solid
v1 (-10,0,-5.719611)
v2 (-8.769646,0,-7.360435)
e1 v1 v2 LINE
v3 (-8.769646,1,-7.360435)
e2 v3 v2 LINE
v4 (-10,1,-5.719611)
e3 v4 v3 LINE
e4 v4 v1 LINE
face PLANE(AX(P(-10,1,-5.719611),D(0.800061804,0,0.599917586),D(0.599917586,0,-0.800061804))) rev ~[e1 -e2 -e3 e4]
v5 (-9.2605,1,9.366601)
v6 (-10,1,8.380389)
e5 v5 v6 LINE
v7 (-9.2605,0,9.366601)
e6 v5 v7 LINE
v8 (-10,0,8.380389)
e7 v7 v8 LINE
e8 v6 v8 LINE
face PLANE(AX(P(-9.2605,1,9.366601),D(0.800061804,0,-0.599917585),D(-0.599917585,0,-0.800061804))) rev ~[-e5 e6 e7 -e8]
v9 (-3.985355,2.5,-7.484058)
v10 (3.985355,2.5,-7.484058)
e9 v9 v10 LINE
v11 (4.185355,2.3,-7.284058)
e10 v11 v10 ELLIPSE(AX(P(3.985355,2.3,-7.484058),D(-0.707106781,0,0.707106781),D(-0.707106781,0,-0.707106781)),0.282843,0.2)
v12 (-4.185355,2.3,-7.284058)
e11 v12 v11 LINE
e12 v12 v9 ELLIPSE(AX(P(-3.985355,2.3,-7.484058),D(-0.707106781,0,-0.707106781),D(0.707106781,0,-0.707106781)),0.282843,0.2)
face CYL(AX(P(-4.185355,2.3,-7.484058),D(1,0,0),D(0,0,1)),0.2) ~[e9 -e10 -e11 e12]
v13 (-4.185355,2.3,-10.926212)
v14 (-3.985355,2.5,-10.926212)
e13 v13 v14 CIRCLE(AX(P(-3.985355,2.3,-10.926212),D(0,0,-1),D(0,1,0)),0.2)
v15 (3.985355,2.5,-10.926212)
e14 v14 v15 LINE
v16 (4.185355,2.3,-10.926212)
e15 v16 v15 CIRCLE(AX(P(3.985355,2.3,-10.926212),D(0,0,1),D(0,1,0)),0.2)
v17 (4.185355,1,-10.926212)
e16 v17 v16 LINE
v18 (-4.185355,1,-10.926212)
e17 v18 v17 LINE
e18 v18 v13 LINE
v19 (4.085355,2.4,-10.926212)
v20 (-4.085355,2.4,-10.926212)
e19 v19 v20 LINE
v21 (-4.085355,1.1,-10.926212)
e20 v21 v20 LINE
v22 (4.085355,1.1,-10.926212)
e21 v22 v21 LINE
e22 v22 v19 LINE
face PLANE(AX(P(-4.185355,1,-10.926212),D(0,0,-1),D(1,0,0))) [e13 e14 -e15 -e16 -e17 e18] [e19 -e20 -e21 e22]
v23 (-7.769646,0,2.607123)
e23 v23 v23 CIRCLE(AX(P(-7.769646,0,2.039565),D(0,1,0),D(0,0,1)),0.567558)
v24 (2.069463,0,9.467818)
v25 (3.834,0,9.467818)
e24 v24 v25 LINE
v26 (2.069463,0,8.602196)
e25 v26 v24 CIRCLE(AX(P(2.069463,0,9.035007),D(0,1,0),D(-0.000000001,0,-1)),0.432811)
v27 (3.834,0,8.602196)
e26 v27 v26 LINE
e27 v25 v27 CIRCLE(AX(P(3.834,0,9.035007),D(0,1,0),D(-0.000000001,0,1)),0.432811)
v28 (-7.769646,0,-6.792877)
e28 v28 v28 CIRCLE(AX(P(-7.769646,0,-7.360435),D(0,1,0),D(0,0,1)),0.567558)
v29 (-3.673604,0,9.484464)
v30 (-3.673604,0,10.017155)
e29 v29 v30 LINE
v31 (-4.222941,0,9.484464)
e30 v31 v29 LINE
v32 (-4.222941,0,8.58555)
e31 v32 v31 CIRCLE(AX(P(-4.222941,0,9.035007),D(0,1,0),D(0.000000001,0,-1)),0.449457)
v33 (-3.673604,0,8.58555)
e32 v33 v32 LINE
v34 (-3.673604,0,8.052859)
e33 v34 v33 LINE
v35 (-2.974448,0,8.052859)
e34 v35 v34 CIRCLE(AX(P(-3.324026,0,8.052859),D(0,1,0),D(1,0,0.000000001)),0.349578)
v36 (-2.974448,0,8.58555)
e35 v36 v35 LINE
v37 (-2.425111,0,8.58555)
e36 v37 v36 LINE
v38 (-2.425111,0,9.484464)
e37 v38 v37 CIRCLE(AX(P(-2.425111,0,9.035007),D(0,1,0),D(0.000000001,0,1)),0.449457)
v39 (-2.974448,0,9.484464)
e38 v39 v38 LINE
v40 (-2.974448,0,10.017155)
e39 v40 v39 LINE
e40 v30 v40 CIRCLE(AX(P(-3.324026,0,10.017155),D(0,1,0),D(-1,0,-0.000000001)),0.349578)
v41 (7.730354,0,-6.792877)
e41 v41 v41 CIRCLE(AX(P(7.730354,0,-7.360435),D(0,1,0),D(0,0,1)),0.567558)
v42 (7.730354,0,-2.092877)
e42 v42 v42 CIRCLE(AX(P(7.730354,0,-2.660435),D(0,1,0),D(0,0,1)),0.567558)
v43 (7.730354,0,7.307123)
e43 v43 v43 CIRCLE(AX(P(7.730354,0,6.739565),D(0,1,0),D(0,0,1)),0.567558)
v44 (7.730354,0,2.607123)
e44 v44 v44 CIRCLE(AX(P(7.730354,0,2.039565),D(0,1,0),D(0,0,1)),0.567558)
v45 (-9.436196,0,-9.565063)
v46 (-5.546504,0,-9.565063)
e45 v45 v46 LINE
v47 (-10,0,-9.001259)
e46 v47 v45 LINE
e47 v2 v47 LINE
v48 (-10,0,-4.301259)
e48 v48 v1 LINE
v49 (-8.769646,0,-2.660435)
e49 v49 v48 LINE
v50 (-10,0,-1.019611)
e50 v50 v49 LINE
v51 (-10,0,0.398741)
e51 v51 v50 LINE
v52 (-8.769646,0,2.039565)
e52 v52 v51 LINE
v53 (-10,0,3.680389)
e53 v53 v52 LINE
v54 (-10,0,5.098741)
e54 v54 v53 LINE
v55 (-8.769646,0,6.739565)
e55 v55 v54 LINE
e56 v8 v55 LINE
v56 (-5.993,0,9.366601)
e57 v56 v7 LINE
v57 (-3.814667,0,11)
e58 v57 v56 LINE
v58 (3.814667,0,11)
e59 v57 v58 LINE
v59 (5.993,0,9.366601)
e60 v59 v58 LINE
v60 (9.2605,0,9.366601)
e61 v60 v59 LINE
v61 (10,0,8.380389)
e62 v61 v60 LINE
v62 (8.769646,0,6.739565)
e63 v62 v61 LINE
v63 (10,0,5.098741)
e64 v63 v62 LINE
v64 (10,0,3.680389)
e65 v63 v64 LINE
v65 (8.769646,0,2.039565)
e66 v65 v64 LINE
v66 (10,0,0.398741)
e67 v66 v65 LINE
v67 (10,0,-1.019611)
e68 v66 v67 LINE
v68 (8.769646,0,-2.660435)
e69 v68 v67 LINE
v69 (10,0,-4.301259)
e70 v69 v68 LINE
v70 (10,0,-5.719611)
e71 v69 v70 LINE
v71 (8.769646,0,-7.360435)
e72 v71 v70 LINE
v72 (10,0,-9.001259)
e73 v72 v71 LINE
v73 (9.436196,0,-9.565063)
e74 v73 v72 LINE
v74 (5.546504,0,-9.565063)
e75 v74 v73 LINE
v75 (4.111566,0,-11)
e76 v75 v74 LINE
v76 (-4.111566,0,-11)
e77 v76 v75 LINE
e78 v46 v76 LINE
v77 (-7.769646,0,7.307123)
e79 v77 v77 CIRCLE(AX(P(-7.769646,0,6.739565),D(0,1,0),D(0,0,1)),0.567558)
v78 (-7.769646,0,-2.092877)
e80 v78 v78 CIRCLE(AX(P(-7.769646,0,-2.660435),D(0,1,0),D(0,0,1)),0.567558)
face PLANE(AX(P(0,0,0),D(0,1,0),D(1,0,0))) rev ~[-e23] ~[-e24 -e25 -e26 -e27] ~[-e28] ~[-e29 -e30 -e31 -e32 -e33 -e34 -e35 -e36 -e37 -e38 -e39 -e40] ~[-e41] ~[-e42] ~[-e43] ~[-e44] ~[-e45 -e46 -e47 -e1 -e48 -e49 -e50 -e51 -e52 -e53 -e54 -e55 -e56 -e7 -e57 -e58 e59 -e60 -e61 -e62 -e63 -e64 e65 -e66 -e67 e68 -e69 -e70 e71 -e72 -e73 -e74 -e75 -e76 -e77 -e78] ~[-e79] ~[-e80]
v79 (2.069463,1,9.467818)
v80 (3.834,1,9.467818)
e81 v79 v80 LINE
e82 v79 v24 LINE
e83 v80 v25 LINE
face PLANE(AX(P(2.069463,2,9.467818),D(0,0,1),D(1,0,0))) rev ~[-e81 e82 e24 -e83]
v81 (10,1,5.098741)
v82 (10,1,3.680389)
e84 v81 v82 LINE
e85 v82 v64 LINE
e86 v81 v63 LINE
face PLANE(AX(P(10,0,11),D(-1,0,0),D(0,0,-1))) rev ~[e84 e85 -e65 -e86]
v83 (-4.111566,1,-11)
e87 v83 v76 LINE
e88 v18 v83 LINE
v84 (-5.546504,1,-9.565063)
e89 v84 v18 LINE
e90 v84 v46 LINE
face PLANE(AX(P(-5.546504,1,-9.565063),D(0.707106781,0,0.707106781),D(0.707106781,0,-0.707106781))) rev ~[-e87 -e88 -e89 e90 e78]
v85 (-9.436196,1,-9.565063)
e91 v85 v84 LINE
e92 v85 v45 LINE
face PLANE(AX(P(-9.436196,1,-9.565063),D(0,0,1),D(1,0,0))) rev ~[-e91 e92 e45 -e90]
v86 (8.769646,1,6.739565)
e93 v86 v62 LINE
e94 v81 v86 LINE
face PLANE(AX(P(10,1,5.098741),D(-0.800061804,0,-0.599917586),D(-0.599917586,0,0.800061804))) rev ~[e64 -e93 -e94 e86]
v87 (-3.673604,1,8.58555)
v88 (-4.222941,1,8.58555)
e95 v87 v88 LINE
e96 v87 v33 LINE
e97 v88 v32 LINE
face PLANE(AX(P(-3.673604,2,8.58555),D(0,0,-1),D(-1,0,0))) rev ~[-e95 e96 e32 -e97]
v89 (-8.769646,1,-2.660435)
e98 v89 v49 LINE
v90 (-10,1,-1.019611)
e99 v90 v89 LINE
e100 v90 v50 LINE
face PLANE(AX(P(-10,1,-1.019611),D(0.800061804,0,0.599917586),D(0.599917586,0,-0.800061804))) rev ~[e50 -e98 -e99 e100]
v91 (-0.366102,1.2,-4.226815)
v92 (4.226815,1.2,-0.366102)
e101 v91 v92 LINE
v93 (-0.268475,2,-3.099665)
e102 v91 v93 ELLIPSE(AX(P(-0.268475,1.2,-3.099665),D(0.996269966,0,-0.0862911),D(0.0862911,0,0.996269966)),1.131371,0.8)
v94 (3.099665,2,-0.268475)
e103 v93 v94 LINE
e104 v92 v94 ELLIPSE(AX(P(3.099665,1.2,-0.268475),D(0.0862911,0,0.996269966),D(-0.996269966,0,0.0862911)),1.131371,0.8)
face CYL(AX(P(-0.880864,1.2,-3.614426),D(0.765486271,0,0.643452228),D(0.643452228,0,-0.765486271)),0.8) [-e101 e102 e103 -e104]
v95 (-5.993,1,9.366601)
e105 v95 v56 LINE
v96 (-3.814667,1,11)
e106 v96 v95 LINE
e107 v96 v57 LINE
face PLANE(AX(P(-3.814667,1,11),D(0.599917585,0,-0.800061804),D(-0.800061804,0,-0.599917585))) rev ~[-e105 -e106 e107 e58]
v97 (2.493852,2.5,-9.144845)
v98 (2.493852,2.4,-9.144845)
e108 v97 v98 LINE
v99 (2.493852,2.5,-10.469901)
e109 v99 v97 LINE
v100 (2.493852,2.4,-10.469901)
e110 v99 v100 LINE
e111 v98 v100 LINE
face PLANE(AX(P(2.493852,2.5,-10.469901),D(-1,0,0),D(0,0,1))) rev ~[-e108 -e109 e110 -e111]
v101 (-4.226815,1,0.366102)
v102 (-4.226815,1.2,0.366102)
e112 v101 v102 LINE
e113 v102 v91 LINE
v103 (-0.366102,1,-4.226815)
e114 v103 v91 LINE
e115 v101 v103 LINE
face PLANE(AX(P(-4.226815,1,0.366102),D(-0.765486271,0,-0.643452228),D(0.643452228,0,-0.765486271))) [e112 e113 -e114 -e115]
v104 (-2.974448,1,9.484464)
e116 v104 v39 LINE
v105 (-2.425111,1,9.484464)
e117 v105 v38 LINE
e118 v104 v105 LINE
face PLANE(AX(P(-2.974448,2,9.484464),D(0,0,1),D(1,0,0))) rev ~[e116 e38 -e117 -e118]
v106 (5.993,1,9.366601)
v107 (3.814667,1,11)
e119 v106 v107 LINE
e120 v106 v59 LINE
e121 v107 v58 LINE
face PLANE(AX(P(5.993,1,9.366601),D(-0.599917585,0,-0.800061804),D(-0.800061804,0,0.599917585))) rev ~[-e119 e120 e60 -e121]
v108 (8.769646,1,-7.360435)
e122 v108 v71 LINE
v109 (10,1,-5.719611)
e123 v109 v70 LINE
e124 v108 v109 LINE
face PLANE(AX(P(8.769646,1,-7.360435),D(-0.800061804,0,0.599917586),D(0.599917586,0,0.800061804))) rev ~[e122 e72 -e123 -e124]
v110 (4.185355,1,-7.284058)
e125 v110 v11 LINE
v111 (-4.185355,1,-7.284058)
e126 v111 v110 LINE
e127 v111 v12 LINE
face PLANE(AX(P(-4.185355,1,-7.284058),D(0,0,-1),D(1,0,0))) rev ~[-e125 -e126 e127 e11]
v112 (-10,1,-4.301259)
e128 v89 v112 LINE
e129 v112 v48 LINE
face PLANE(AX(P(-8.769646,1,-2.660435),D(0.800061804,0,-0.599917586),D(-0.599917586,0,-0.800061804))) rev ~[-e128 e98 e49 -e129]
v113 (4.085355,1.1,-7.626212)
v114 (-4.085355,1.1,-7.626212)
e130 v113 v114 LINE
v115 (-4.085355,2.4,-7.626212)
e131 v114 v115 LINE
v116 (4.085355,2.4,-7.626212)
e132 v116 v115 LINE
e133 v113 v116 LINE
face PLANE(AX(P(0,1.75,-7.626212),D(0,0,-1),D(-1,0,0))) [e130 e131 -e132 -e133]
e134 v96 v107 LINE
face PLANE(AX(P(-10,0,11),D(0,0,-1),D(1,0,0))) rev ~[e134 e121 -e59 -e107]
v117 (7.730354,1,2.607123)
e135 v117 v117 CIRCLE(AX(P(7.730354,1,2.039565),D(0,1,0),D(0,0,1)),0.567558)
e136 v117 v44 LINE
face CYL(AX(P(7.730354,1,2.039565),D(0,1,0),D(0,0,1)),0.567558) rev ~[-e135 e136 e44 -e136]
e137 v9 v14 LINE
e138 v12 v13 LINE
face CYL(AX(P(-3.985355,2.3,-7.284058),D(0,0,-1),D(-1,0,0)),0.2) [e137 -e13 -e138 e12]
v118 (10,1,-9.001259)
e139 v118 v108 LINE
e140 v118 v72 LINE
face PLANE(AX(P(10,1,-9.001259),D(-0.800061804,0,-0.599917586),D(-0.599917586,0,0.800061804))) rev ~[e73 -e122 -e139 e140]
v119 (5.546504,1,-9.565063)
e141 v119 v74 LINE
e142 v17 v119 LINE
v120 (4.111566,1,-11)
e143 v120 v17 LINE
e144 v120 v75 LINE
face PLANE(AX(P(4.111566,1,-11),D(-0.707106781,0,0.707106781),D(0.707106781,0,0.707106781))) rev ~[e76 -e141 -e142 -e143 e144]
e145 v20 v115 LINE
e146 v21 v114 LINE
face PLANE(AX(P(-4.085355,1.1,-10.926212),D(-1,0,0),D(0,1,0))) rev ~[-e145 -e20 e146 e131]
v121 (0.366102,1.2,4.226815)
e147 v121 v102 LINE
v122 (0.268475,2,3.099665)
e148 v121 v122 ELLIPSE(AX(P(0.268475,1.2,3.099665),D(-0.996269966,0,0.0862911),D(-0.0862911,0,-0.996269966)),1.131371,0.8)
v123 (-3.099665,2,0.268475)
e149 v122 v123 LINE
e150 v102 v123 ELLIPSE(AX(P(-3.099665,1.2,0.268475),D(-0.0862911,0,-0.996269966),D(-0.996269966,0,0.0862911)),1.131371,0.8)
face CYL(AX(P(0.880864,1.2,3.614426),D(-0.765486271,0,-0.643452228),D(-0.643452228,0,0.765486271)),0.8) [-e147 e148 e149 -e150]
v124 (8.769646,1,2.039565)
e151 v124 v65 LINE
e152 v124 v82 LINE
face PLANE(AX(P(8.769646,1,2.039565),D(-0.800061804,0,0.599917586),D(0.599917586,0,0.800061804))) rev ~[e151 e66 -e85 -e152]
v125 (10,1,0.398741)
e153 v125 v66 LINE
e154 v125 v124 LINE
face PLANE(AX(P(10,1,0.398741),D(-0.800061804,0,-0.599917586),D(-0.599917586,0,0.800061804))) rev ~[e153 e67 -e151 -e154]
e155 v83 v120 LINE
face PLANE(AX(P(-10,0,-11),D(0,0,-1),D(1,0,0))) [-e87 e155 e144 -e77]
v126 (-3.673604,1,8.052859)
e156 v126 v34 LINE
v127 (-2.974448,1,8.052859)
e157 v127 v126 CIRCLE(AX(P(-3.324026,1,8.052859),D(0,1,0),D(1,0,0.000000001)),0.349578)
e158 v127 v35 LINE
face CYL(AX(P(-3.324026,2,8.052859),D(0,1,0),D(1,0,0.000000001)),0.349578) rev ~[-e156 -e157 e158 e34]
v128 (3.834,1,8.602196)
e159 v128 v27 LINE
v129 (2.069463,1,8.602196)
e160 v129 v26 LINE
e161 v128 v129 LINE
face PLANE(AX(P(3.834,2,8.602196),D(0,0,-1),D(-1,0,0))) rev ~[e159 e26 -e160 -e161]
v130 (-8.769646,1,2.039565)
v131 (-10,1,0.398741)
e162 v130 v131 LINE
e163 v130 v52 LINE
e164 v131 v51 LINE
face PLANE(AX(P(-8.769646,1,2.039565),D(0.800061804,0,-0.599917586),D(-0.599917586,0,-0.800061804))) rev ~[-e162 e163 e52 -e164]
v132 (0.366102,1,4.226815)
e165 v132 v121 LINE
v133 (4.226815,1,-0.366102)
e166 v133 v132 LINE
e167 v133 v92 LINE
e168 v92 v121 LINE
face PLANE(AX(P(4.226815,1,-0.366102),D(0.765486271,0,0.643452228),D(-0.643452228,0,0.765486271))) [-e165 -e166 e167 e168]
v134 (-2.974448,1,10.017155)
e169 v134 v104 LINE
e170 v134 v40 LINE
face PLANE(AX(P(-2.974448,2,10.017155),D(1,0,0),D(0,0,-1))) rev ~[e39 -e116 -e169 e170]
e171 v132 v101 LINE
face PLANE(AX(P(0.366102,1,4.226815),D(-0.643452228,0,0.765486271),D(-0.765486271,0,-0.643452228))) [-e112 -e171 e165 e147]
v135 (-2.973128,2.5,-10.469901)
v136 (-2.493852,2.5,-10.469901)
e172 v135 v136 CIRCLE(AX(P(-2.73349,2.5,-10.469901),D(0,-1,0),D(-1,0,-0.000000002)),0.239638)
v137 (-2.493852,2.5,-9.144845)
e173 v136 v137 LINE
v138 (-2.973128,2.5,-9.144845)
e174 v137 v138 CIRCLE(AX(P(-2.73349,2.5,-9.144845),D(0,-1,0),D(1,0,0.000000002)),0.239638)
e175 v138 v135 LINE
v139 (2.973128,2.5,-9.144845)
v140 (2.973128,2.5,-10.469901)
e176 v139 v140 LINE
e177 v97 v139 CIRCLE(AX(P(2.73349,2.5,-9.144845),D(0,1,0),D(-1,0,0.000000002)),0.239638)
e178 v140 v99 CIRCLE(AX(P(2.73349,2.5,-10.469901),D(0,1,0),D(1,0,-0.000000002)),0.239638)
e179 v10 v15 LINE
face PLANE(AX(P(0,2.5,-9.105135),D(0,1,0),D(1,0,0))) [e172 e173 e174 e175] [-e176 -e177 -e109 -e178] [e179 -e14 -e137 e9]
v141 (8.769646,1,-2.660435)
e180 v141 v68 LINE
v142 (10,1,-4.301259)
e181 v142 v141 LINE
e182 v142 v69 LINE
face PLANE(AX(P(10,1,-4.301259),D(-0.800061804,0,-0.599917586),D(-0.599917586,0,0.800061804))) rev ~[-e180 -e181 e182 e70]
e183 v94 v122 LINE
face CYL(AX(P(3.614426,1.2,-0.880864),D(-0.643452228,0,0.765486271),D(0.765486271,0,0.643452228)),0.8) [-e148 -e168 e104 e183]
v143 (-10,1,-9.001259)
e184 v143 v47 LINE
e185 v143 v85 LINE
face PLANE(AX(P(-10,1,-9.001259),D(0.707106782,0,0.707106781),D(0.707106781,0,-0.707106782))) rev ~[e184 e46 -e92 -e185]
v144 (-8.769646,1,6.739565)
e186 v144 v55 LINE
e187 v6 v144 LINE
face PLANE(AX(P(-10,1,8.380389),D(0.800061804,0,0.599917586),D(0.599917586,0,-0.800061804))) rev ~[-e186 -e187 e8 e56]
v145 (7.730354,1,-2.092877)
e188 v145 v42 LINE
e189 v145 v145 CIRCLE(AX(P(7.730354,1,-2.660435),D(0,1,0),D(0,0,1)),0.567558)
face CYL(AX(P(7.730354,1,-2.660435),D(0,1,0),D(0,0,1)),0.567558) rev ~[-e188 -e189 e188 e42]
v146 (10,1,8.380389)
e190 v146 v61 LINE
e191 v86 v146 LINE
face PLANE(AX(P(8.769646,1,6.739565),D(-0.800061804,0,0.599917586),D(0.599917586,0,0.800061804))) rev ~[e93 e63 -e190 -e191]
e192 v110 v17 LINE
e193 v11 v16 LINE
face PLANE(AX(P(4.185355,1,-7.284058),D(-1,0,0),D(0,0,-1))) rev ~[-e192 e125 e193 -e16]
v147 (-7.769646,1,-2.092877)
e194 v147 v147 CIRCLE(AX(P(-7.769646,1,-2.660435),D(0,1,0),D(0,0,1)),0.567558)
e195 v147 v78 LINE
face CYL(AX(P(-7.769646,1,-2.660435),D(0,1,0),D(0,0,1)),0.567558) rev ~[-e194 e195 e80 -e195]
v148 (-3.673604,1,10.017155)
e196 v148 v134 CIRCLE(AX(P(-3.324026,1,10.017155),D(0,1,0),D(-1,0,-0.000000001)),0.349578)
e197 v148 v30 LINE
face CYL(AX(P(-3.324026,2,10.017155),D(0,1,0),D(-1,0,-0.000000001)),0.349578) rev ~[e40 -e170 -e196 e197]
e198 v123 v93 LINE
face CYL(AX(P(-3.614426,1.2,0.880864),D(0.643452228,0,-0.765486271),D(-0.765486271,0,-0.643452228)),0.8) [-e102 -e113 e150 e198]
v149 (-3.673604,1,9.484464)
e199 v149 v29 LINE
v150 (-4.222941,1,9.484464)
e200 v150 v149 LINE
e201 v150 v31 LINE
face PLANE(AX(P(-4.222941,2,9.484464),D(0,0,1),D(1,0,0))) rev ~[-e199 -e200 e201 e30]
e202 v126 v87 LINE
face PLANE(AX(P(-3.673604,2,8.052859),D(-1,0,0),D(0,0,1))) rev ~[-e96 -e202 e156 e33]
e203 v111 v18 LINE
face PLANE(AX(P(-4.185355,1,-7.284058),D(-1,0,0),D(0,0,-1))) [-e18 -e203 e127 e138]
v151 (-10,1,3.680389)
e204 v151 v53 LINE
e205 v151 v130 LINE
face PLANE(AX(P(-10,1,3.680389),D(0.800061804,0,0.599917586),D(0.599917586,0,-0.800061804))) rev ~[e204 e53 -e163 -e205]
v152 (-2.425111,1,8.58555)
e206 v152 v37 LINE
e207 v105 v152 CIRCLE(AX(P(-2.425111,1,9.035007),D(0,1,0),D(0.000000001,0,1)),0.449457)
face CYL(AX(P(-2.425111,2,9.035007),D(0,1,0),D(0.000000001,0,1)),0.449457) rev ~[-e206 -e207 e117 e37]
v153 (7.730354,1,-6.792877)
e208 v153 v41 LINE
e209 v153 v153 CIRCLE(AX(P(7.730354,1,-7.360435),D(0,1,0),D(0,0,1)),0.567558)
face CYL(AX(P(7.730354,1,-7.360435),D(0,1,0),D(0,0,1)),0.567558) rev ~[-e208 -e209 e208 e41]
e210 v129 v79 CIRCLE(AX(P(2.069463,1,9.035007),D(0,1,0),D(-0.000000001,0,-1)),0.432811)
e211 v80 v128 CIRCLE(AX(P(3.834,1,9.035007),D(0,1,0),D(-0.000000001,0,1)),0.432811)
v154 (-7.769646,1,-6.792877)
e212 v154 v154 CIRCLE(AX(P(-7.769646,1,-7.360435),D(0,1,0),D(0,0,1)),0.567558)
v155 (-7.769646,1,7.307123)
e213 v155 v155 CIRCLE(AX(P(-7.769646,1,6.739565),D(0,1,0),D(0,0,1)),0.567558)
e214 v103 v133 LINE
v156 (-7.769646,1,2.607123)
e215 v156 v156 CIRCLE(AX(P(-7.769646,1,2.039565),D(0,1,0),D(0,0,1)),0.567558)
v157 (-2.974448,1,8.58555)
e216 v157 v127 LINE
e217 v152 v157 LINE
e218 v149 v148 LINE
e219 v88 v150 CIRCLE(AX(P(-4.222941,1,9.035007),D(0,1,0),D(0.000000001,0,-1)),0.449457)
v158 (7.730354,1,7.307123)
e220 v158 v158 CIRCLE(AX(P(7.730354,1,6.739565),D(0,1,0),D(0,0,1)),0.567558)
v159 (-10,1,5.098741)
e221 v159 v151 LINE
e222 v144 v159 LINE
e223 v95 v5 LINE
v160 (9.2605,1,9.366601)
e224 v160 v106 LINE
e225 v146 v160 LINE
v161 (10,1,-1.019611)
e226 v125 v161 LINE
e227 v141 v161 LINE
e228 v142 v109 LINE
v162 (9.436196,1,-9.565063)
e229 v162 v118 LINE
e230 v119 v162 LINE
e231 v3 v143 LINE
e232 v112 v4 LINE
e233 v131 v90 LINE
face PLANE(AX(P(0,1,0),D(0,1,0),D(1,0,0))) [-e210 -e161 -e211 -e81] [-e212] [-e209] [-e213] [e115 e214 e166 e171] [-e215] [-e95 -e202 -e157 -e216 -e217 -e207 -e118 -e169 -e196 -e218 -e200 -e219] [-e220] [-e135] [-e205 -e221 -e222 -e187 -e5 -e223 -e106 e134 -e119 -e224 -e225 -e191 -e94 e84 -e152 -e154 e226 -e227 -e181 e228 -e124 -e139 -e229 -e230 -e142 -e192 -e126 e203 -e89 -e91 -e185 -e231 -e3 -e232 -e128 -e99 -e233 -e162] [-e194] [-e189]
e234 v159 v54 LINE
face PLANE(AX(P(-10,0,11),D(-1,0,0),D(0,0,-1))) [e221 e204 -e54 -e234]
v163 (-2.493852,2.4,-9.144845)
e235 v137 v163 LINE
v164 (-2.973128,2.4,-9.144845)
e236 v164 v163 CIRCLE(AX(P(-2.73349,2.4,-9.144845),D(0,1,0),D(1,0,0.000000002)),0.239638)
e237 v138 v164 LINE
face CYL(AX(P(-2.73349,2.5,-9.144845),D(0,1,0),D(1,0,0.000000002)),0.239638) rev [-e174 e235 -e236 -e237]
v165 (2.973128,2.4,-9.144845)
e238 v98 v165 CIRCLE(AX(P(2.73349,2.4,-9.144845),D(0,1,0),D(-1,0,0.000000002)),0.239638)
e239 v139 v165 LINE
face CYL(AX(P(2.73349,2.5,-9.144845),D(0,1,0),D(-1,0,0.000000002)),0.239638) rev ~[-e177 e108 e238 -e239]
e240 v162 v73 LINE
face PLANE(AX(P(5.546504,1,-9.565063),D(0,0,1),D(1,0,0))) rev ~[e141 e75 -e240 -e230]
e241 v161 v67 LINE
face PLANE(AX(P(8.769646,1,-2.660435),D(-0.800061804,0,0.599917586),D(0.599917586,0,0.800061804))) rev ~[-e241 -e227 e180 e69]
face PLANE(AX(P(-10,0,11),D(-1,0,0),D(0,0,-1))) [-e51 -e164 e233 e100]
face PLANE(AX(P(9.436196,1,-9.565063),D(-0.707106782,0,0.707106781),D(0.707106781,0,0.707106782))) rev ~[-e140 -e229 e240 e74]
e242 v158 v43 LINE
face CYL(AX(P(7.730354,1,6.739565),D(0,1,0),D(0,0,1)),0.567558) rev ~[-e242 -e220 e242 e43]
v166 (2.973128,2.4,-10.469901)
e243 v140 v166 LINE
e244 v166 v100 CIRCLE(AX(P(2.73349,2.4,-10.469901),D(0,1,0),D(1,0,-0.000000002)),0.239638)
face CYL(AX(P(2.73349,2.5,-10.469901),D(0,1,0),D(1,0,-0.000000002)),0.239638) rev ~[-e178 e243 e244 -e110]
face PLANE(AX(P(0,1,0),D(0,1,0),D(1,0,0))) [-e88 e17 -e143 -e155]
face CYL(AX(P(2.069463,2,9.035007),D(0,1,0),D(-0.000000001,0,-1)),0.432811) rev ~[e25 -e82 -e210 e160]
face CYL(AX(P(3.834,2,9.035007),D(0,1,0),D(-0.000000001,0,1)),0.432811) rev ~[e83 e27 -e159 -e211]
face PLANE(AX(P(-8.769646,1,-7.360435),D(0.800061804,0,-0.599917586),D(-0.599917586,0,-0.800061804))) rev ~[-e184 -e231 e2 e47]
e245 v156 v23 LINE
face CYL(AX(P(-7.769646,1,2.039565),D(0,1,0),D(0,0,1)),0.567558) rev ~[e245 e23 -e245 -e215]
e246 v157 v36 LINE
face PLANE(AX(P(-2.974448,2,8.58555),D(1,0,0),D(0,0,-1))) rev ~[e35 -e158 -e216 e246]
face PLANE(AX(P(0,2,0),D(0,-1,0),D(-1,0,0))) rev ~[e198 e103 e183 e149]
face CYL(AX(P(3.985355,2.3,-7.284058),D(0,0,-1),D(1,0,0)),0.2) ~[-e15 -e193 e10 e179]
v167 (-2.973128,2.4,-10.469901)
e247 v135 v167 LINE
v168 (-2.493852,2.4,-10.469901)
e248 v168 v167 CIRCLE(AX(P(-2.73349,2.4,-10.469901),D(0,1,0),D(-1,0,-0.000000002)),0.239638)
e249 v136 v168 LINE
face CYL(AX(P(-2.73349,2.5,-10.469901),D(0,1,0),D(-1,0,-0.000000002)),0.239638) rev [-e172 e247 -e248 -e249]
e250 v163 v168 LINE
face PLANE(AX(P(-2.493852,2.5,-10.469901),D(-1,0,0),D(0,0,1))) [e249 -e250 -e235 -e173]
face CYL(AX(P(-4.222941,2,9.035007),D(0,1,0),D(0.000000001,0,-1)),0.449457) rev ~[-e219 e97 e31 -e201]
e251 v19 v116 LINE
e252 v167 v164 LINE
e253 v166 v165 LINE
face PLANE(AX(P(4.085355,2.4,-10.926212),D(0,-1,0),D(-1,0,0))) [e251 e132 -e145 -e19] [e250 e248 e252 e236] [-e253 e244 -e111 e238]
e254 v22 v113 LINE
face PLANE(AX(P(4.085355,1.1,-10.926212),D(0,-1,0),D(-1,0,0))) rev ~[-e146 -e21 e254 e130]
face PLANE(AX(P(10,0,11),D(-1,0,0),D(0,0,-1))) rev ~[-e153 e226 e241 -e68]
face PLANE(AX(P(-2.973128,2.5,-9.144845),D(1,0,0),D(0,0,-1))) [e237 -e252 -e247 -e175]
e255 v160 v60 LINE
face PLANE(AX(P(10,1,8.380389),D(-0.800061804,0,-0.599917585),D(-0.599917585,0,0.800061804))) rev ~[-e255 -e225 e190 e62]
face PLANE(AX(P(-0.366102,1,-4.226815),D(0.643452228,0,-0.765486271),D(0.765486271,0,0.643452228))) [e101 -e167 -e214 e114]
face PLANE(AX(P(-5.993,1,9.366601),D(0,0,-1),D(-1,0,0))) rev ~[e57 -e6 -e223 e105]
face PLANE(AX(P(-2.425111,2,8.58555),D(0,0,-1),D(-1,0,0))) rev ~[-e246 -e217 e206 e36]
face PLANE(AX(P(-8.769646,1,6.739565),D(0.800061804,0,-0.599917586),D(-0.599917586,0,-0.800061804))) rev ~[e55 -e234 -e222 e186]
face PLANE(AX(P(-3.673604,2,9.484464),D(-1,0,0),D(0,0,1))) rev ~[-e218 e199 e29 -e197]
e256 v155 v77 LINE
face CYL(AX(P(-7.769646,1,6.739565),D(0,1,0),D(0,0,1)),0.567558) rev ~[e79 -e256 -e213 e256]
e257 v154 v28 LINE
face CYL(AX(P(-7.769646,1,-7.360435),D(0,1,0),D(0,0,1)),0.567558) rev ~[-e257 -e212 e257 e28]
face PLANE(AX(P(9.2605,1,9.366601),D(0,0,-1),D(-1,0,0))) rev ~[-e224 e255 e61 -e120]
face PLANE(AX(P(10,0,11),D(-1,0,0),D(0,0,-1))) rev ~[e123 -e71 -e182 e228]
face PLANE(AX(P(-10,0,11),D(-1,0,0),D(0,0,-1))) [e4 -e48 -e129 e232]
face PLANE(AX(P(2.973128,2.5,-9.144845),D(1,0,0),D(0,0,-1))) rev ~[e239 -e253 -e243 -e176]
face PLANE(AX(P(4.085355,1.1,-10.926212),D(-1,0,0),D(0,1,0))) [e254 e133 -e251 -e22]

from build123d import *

# Parameters (mm, degrees)
SKETCH1_W            = 20
SKETCH1_H            = 22
BOSS_EXTRUDE1_DEPTH  = 1
CUT_EXTRUDE1_DEPTH   = 2
CUT_EXTRUDE2_DEPTH   = 2
LPATTERN1_COUNT      = 4
LPATTERN1_PITCH      = 4.7
CUT_EXTRUDE3_DEPTH   = 2
SKETCH4_W            = 8.370709726
SKETCH4_H            = 3.642153613
BOSS_EXTRUDE2_DEPTH  = 1.5
SKETCH5_W            = 8.170709726
SKETCH5_H            = 1.3
CUT_EXTRUDE4_DEPTH   = 3.3
CUT_EXTRUDE5_DEPTH   = 1
FILLET1_R            = 0.2
SKETCH7_R            = 0.567557538
CUT_EXTRUDE6_DEPTH   = 1
LPATTERN2_COUNT      = 4
LPATTERN2_PITCH      = 4.7
LPATTERN2_COUNT_DIR2 = 2
LPATTERN2_PITCH_DIR2 = 15.5
BOSS_EXTRUDE3_DEPTH  = 1
FILLET2_R            = 0.8
CUT_EXTRUDE14_DEPTH  = 11


with BuildPart() as part:
    # Sketch1 → Boss-Extrude1 (new body)
    with BuildSketch(Plane(origin=(0, 0, 0), x_dir=(1, 0, 0), z_dir=(0, 1, 0))):
        Rectangle(SKETCH1_W, SKETCH1_H)
    extrude(amount=BOSS_EXTRUDE1_DEPTH)

    # Sketch2 → Cut-Extrude1 (cut)
    with BuildSketch(Plane(origin=(0, 1, 0), x_dir=(1, 0, 0), z_dir=(0, 1, 0))):
        Polygon((5.992999925, -9.366600626), (3.81466663, -11), (10, -11), (10, -8.38038881), (9.260499866, -9.366600626), align=None)
        Polygon((-10, -11), (-3.81466663, -11), (-5.992999925, -9.366600626), (-9.260499866, -9.366600626), (-10, -8.38038881), align=None)
    extrude(amount=-CUT_EXTRUDE1_DEPTH, mode=Mode.SUBTRACT)

    # Sketch2<3> → Cut-Extrude2 (cut)
    with BuildSketch(Plane(origin=(0, 1, 0), x_dir=(1, 0, 0), z_dir=(0, 1, 0))):
        Polygon((8.769646289, -6.739565081), (10, -8.38038881), (10, -5.098741352), align=None)
        Polygon((-10, -5.098741352), (-10, -8.38038881), (-8.769646289, -6.739565081), align=None)
    cut_extrude2 = extrude(amount=-CUT_EXTRUDE2_DEPTH, mode=Mode.SUBTRACT)

    # LPattern1: Cut-Extrude2 ×4
    with Locations(*[(0, 0, -i * LPATTERN1_PITCH) for i in range(1, LPATTERN1_COUNT)]):
        add(cut_extrude2, mode=Mode.SUBTRACT)

    # Sketch3 → Cut-Extrude3 (cut)
    with BuildSketch(Plane(origin=(0, 1, 0), x_dir=(1, 0, 0), z_dir=(0, 1, 0))):
        Polygon((-5.546503539, 9.56506288), (-4.111566419, 11), (-10, 11), (-10, 9.001258648), (-9.436195769, 9.56506288), align=None)
        Polygon((9.436195769, 9.56506288), (10, 9.001258648), (10, 11), (4.111566419, 11), (5.546503539, 9.56506288), align=None)
    extrude(amount=-CUT_EXTRUDE3_DEPTH, mode=Mode.SUBTRACT)

    # Sketch4 → Boss-Extrude2 (add)
    with BuildSketch(Plane(origin=(0, 1, 0), x_dir=(1, 0, 0), z_dir=(0, 1, 0))):
        with Locations((0, 9.105134748)):
            Rectangle(SKETCH4_W, SKETCH4_H)
    extrude(amount=BOSS_EXTRUDE2_DEPTH)

    # Sketch5 → Cut-Extrude4 (cut)
    with BuildSketch(Plane(origin=(0, 0, -10.926211555), x_dir=(-1, 0, 0), z_dir=(0, 0, -1))):
        with Locations((0, 1.75)):
            Rectangle(SKETCH5_W, SKETCH5_H)
    extrude(amount=-CUT_EXTRUDE4_DEPTH, mode=Mode.SUBTRACT)

    # Sketch6 → Cut-Extrude5 (cut)
    with BuildSketch(Plane(origin=(0, 2.5, 0), x_dir=(1, 0, 0), z_dir=(0, 1, 0))):
        with BuildLine():
            Line((-2.493852215, 10.469900747), (-2.493852215, 9.144845176))
            ThreePointArc((-2.493852215, 9.144845176), (-2.733489924, 8.905207467), (-2.973127634, 9.144845176))
            Line((-2.973127634, 9.144845176), (-2.973127634, 10.469900747))
            ThreePointArc((-2.973127634, 10.469900747), (-2.733489924, 10.709538456), (-2.493852215, 10.469900747))
        make_face()
        with BuildLine():
            Line((2.493852215, 10.469900747), (2.493852215, 9.144845176))
            ThreePointArc((2.493852215, 9.144845176), (2.733489924, 8.905207467), (2.973127634, 9.144845176))
            Line((2.973127634, 9.144845176), (2.973127634, 10.469900747))
            ThreePointArc((2.973127634, 10.469900747), (2.733489924, 10.709538456), (2.493852215, 10.469900747))
        make_face()
    extrude(amount=-CUT_EXTRUDE5_DEPTH, mode=Mode.SUBTRACT)

    # Fillet1
    fillet1_edges = [part.edges().sort_by_distance(p)[0] for p in [
        (4.185354863, 2.5, -9.105134749),
        (0, 2.5, -7.284057942),
        (-4.185354863, 2.5, -9.105134749),
    ]]
    fillet(fillet1_edges, radius=FILLET1_R)

    # Sketch7 → Cut-Extrude6 (cut)
    with BuildSketch(Plane(origin=(0, 1, 0), x_dir=(1, 0, 0), z_dir=(0, 1, 0))):
        with Locations((-7.769646289, -6.739565081)):
            Circle(SKETCH7_R)
    cut_extrude6 = extrude(amount=-CUT_EXTRUDE6_DEPTH, mode=Mode.SUBTRACT)

    # LPattern2: Cut-Extrude6 4 × 2
    with Locations(*[(j * LPATTERN2_PITCH_DIR2, 0, -i * LPATTERN2_PITCH) for i in range(LPATTERN2_COUNT) for j in range(LPATTERN2_COUNT_DIR2) if (i, j) != (0, 0)]):
        add(cut_extrude6, mode=Mode.SUBTRACT)

    # Sketch8 → Boss-Extrude3 (add)
    with BuildSketch(Plane(origin=(0, 1, 0), x_dir=(1, 0, 0), z_dir=(0, 1, 0))):
        Polygon((-4.226815495, -0.36610213), (-0.36610213, 4.226815495), (4.226815495, 0.36610213), (0.36610213, -4.226815495), align=None)
    extrude(amount=BOSS_EXTRUDE3_DEPTH)

    # Fillet2
    fillet2_edges = [part.edges().sort_by_distance(p)[0] for p in [
        (-2.296458812, 2, -1.930356683),
        (1.930356683, 2, -2.296458812),
        (2.296458812, 2, 1.930356683),
        (-1.930356683, 2, 2.296458812),
    ]]
    fillet(fillet2_edges, radius=FILLET2_R)

    # Sketch10 → Cut-Extrude14 (cut)
    with BuildSketch(Plane(origin=(0, 2, 0), x_dir=(1, 0, 0), z_dir=(0, 1, 0))):
        with BuildLine():
            Line((-3.673604306, -8.585549508), (-4.222941213, -8.585549508))
            ThreePointArc((-4.222941213, -8.585549508), (-4.672398683, -9.035006978), (-4.222941213, -9.484464447))
            Line((-4.222941213, -9.484464447), (-3.673604306, -9.484464447))
            Line((-3.673604306, -9.484464447), (-3.673604306, -10.017154782))
            ThreePointArc((-3.673604306, -10.017154782), (-3.324026274, -10.366732814), (-2.974448243, -10.017154782))
            Line((-2.974448243, -10.017154782), (-2.974448243, -9.484464447))
            Line((-2.974448243, -9.484464447), (-2.425111335, -9.484464447))
            ThreePointArc((-2.425111335, -9.484464447), (-1.975653866, -9.035006978), (-2.425111335, -8.585549508))
            Line((-2.425111335, -8.585549508), (-2.974448243, -8.585549508))
            Line((-2.974448243, -8.585549508), (-2.974448243, -8.052859174))
            ThreePointArc((-2.974448243, -8.052859174), (-3.324026274, -7.703281142), (-3.673604306, -8.052859174))
            Line((-3.673604306, -8.052859174), (-3.673604306, -8.585549508))
        make_face()
        with BuildLine():
            Line((3.834000092, -8.602196081), (2.06946336, -8.602196081))
            ThreePointArc((2.06946336, -8.602196081), (1.636652464, -9.035006978), (2.06946336, -9.467817874))
            Line((2.06946336, -9.467817874), (3.834000092, -9.467817874))
            ThreePointArc((3.834000092, -9.467817874), (4.266810989, -9.035006978), (3.834000092, -8.602196081))
        make_face()
    extrude(amount=-CUT_EXTRUDE14_DEPTH, mode=Mode.SUBTRACT)


solid = part.part
